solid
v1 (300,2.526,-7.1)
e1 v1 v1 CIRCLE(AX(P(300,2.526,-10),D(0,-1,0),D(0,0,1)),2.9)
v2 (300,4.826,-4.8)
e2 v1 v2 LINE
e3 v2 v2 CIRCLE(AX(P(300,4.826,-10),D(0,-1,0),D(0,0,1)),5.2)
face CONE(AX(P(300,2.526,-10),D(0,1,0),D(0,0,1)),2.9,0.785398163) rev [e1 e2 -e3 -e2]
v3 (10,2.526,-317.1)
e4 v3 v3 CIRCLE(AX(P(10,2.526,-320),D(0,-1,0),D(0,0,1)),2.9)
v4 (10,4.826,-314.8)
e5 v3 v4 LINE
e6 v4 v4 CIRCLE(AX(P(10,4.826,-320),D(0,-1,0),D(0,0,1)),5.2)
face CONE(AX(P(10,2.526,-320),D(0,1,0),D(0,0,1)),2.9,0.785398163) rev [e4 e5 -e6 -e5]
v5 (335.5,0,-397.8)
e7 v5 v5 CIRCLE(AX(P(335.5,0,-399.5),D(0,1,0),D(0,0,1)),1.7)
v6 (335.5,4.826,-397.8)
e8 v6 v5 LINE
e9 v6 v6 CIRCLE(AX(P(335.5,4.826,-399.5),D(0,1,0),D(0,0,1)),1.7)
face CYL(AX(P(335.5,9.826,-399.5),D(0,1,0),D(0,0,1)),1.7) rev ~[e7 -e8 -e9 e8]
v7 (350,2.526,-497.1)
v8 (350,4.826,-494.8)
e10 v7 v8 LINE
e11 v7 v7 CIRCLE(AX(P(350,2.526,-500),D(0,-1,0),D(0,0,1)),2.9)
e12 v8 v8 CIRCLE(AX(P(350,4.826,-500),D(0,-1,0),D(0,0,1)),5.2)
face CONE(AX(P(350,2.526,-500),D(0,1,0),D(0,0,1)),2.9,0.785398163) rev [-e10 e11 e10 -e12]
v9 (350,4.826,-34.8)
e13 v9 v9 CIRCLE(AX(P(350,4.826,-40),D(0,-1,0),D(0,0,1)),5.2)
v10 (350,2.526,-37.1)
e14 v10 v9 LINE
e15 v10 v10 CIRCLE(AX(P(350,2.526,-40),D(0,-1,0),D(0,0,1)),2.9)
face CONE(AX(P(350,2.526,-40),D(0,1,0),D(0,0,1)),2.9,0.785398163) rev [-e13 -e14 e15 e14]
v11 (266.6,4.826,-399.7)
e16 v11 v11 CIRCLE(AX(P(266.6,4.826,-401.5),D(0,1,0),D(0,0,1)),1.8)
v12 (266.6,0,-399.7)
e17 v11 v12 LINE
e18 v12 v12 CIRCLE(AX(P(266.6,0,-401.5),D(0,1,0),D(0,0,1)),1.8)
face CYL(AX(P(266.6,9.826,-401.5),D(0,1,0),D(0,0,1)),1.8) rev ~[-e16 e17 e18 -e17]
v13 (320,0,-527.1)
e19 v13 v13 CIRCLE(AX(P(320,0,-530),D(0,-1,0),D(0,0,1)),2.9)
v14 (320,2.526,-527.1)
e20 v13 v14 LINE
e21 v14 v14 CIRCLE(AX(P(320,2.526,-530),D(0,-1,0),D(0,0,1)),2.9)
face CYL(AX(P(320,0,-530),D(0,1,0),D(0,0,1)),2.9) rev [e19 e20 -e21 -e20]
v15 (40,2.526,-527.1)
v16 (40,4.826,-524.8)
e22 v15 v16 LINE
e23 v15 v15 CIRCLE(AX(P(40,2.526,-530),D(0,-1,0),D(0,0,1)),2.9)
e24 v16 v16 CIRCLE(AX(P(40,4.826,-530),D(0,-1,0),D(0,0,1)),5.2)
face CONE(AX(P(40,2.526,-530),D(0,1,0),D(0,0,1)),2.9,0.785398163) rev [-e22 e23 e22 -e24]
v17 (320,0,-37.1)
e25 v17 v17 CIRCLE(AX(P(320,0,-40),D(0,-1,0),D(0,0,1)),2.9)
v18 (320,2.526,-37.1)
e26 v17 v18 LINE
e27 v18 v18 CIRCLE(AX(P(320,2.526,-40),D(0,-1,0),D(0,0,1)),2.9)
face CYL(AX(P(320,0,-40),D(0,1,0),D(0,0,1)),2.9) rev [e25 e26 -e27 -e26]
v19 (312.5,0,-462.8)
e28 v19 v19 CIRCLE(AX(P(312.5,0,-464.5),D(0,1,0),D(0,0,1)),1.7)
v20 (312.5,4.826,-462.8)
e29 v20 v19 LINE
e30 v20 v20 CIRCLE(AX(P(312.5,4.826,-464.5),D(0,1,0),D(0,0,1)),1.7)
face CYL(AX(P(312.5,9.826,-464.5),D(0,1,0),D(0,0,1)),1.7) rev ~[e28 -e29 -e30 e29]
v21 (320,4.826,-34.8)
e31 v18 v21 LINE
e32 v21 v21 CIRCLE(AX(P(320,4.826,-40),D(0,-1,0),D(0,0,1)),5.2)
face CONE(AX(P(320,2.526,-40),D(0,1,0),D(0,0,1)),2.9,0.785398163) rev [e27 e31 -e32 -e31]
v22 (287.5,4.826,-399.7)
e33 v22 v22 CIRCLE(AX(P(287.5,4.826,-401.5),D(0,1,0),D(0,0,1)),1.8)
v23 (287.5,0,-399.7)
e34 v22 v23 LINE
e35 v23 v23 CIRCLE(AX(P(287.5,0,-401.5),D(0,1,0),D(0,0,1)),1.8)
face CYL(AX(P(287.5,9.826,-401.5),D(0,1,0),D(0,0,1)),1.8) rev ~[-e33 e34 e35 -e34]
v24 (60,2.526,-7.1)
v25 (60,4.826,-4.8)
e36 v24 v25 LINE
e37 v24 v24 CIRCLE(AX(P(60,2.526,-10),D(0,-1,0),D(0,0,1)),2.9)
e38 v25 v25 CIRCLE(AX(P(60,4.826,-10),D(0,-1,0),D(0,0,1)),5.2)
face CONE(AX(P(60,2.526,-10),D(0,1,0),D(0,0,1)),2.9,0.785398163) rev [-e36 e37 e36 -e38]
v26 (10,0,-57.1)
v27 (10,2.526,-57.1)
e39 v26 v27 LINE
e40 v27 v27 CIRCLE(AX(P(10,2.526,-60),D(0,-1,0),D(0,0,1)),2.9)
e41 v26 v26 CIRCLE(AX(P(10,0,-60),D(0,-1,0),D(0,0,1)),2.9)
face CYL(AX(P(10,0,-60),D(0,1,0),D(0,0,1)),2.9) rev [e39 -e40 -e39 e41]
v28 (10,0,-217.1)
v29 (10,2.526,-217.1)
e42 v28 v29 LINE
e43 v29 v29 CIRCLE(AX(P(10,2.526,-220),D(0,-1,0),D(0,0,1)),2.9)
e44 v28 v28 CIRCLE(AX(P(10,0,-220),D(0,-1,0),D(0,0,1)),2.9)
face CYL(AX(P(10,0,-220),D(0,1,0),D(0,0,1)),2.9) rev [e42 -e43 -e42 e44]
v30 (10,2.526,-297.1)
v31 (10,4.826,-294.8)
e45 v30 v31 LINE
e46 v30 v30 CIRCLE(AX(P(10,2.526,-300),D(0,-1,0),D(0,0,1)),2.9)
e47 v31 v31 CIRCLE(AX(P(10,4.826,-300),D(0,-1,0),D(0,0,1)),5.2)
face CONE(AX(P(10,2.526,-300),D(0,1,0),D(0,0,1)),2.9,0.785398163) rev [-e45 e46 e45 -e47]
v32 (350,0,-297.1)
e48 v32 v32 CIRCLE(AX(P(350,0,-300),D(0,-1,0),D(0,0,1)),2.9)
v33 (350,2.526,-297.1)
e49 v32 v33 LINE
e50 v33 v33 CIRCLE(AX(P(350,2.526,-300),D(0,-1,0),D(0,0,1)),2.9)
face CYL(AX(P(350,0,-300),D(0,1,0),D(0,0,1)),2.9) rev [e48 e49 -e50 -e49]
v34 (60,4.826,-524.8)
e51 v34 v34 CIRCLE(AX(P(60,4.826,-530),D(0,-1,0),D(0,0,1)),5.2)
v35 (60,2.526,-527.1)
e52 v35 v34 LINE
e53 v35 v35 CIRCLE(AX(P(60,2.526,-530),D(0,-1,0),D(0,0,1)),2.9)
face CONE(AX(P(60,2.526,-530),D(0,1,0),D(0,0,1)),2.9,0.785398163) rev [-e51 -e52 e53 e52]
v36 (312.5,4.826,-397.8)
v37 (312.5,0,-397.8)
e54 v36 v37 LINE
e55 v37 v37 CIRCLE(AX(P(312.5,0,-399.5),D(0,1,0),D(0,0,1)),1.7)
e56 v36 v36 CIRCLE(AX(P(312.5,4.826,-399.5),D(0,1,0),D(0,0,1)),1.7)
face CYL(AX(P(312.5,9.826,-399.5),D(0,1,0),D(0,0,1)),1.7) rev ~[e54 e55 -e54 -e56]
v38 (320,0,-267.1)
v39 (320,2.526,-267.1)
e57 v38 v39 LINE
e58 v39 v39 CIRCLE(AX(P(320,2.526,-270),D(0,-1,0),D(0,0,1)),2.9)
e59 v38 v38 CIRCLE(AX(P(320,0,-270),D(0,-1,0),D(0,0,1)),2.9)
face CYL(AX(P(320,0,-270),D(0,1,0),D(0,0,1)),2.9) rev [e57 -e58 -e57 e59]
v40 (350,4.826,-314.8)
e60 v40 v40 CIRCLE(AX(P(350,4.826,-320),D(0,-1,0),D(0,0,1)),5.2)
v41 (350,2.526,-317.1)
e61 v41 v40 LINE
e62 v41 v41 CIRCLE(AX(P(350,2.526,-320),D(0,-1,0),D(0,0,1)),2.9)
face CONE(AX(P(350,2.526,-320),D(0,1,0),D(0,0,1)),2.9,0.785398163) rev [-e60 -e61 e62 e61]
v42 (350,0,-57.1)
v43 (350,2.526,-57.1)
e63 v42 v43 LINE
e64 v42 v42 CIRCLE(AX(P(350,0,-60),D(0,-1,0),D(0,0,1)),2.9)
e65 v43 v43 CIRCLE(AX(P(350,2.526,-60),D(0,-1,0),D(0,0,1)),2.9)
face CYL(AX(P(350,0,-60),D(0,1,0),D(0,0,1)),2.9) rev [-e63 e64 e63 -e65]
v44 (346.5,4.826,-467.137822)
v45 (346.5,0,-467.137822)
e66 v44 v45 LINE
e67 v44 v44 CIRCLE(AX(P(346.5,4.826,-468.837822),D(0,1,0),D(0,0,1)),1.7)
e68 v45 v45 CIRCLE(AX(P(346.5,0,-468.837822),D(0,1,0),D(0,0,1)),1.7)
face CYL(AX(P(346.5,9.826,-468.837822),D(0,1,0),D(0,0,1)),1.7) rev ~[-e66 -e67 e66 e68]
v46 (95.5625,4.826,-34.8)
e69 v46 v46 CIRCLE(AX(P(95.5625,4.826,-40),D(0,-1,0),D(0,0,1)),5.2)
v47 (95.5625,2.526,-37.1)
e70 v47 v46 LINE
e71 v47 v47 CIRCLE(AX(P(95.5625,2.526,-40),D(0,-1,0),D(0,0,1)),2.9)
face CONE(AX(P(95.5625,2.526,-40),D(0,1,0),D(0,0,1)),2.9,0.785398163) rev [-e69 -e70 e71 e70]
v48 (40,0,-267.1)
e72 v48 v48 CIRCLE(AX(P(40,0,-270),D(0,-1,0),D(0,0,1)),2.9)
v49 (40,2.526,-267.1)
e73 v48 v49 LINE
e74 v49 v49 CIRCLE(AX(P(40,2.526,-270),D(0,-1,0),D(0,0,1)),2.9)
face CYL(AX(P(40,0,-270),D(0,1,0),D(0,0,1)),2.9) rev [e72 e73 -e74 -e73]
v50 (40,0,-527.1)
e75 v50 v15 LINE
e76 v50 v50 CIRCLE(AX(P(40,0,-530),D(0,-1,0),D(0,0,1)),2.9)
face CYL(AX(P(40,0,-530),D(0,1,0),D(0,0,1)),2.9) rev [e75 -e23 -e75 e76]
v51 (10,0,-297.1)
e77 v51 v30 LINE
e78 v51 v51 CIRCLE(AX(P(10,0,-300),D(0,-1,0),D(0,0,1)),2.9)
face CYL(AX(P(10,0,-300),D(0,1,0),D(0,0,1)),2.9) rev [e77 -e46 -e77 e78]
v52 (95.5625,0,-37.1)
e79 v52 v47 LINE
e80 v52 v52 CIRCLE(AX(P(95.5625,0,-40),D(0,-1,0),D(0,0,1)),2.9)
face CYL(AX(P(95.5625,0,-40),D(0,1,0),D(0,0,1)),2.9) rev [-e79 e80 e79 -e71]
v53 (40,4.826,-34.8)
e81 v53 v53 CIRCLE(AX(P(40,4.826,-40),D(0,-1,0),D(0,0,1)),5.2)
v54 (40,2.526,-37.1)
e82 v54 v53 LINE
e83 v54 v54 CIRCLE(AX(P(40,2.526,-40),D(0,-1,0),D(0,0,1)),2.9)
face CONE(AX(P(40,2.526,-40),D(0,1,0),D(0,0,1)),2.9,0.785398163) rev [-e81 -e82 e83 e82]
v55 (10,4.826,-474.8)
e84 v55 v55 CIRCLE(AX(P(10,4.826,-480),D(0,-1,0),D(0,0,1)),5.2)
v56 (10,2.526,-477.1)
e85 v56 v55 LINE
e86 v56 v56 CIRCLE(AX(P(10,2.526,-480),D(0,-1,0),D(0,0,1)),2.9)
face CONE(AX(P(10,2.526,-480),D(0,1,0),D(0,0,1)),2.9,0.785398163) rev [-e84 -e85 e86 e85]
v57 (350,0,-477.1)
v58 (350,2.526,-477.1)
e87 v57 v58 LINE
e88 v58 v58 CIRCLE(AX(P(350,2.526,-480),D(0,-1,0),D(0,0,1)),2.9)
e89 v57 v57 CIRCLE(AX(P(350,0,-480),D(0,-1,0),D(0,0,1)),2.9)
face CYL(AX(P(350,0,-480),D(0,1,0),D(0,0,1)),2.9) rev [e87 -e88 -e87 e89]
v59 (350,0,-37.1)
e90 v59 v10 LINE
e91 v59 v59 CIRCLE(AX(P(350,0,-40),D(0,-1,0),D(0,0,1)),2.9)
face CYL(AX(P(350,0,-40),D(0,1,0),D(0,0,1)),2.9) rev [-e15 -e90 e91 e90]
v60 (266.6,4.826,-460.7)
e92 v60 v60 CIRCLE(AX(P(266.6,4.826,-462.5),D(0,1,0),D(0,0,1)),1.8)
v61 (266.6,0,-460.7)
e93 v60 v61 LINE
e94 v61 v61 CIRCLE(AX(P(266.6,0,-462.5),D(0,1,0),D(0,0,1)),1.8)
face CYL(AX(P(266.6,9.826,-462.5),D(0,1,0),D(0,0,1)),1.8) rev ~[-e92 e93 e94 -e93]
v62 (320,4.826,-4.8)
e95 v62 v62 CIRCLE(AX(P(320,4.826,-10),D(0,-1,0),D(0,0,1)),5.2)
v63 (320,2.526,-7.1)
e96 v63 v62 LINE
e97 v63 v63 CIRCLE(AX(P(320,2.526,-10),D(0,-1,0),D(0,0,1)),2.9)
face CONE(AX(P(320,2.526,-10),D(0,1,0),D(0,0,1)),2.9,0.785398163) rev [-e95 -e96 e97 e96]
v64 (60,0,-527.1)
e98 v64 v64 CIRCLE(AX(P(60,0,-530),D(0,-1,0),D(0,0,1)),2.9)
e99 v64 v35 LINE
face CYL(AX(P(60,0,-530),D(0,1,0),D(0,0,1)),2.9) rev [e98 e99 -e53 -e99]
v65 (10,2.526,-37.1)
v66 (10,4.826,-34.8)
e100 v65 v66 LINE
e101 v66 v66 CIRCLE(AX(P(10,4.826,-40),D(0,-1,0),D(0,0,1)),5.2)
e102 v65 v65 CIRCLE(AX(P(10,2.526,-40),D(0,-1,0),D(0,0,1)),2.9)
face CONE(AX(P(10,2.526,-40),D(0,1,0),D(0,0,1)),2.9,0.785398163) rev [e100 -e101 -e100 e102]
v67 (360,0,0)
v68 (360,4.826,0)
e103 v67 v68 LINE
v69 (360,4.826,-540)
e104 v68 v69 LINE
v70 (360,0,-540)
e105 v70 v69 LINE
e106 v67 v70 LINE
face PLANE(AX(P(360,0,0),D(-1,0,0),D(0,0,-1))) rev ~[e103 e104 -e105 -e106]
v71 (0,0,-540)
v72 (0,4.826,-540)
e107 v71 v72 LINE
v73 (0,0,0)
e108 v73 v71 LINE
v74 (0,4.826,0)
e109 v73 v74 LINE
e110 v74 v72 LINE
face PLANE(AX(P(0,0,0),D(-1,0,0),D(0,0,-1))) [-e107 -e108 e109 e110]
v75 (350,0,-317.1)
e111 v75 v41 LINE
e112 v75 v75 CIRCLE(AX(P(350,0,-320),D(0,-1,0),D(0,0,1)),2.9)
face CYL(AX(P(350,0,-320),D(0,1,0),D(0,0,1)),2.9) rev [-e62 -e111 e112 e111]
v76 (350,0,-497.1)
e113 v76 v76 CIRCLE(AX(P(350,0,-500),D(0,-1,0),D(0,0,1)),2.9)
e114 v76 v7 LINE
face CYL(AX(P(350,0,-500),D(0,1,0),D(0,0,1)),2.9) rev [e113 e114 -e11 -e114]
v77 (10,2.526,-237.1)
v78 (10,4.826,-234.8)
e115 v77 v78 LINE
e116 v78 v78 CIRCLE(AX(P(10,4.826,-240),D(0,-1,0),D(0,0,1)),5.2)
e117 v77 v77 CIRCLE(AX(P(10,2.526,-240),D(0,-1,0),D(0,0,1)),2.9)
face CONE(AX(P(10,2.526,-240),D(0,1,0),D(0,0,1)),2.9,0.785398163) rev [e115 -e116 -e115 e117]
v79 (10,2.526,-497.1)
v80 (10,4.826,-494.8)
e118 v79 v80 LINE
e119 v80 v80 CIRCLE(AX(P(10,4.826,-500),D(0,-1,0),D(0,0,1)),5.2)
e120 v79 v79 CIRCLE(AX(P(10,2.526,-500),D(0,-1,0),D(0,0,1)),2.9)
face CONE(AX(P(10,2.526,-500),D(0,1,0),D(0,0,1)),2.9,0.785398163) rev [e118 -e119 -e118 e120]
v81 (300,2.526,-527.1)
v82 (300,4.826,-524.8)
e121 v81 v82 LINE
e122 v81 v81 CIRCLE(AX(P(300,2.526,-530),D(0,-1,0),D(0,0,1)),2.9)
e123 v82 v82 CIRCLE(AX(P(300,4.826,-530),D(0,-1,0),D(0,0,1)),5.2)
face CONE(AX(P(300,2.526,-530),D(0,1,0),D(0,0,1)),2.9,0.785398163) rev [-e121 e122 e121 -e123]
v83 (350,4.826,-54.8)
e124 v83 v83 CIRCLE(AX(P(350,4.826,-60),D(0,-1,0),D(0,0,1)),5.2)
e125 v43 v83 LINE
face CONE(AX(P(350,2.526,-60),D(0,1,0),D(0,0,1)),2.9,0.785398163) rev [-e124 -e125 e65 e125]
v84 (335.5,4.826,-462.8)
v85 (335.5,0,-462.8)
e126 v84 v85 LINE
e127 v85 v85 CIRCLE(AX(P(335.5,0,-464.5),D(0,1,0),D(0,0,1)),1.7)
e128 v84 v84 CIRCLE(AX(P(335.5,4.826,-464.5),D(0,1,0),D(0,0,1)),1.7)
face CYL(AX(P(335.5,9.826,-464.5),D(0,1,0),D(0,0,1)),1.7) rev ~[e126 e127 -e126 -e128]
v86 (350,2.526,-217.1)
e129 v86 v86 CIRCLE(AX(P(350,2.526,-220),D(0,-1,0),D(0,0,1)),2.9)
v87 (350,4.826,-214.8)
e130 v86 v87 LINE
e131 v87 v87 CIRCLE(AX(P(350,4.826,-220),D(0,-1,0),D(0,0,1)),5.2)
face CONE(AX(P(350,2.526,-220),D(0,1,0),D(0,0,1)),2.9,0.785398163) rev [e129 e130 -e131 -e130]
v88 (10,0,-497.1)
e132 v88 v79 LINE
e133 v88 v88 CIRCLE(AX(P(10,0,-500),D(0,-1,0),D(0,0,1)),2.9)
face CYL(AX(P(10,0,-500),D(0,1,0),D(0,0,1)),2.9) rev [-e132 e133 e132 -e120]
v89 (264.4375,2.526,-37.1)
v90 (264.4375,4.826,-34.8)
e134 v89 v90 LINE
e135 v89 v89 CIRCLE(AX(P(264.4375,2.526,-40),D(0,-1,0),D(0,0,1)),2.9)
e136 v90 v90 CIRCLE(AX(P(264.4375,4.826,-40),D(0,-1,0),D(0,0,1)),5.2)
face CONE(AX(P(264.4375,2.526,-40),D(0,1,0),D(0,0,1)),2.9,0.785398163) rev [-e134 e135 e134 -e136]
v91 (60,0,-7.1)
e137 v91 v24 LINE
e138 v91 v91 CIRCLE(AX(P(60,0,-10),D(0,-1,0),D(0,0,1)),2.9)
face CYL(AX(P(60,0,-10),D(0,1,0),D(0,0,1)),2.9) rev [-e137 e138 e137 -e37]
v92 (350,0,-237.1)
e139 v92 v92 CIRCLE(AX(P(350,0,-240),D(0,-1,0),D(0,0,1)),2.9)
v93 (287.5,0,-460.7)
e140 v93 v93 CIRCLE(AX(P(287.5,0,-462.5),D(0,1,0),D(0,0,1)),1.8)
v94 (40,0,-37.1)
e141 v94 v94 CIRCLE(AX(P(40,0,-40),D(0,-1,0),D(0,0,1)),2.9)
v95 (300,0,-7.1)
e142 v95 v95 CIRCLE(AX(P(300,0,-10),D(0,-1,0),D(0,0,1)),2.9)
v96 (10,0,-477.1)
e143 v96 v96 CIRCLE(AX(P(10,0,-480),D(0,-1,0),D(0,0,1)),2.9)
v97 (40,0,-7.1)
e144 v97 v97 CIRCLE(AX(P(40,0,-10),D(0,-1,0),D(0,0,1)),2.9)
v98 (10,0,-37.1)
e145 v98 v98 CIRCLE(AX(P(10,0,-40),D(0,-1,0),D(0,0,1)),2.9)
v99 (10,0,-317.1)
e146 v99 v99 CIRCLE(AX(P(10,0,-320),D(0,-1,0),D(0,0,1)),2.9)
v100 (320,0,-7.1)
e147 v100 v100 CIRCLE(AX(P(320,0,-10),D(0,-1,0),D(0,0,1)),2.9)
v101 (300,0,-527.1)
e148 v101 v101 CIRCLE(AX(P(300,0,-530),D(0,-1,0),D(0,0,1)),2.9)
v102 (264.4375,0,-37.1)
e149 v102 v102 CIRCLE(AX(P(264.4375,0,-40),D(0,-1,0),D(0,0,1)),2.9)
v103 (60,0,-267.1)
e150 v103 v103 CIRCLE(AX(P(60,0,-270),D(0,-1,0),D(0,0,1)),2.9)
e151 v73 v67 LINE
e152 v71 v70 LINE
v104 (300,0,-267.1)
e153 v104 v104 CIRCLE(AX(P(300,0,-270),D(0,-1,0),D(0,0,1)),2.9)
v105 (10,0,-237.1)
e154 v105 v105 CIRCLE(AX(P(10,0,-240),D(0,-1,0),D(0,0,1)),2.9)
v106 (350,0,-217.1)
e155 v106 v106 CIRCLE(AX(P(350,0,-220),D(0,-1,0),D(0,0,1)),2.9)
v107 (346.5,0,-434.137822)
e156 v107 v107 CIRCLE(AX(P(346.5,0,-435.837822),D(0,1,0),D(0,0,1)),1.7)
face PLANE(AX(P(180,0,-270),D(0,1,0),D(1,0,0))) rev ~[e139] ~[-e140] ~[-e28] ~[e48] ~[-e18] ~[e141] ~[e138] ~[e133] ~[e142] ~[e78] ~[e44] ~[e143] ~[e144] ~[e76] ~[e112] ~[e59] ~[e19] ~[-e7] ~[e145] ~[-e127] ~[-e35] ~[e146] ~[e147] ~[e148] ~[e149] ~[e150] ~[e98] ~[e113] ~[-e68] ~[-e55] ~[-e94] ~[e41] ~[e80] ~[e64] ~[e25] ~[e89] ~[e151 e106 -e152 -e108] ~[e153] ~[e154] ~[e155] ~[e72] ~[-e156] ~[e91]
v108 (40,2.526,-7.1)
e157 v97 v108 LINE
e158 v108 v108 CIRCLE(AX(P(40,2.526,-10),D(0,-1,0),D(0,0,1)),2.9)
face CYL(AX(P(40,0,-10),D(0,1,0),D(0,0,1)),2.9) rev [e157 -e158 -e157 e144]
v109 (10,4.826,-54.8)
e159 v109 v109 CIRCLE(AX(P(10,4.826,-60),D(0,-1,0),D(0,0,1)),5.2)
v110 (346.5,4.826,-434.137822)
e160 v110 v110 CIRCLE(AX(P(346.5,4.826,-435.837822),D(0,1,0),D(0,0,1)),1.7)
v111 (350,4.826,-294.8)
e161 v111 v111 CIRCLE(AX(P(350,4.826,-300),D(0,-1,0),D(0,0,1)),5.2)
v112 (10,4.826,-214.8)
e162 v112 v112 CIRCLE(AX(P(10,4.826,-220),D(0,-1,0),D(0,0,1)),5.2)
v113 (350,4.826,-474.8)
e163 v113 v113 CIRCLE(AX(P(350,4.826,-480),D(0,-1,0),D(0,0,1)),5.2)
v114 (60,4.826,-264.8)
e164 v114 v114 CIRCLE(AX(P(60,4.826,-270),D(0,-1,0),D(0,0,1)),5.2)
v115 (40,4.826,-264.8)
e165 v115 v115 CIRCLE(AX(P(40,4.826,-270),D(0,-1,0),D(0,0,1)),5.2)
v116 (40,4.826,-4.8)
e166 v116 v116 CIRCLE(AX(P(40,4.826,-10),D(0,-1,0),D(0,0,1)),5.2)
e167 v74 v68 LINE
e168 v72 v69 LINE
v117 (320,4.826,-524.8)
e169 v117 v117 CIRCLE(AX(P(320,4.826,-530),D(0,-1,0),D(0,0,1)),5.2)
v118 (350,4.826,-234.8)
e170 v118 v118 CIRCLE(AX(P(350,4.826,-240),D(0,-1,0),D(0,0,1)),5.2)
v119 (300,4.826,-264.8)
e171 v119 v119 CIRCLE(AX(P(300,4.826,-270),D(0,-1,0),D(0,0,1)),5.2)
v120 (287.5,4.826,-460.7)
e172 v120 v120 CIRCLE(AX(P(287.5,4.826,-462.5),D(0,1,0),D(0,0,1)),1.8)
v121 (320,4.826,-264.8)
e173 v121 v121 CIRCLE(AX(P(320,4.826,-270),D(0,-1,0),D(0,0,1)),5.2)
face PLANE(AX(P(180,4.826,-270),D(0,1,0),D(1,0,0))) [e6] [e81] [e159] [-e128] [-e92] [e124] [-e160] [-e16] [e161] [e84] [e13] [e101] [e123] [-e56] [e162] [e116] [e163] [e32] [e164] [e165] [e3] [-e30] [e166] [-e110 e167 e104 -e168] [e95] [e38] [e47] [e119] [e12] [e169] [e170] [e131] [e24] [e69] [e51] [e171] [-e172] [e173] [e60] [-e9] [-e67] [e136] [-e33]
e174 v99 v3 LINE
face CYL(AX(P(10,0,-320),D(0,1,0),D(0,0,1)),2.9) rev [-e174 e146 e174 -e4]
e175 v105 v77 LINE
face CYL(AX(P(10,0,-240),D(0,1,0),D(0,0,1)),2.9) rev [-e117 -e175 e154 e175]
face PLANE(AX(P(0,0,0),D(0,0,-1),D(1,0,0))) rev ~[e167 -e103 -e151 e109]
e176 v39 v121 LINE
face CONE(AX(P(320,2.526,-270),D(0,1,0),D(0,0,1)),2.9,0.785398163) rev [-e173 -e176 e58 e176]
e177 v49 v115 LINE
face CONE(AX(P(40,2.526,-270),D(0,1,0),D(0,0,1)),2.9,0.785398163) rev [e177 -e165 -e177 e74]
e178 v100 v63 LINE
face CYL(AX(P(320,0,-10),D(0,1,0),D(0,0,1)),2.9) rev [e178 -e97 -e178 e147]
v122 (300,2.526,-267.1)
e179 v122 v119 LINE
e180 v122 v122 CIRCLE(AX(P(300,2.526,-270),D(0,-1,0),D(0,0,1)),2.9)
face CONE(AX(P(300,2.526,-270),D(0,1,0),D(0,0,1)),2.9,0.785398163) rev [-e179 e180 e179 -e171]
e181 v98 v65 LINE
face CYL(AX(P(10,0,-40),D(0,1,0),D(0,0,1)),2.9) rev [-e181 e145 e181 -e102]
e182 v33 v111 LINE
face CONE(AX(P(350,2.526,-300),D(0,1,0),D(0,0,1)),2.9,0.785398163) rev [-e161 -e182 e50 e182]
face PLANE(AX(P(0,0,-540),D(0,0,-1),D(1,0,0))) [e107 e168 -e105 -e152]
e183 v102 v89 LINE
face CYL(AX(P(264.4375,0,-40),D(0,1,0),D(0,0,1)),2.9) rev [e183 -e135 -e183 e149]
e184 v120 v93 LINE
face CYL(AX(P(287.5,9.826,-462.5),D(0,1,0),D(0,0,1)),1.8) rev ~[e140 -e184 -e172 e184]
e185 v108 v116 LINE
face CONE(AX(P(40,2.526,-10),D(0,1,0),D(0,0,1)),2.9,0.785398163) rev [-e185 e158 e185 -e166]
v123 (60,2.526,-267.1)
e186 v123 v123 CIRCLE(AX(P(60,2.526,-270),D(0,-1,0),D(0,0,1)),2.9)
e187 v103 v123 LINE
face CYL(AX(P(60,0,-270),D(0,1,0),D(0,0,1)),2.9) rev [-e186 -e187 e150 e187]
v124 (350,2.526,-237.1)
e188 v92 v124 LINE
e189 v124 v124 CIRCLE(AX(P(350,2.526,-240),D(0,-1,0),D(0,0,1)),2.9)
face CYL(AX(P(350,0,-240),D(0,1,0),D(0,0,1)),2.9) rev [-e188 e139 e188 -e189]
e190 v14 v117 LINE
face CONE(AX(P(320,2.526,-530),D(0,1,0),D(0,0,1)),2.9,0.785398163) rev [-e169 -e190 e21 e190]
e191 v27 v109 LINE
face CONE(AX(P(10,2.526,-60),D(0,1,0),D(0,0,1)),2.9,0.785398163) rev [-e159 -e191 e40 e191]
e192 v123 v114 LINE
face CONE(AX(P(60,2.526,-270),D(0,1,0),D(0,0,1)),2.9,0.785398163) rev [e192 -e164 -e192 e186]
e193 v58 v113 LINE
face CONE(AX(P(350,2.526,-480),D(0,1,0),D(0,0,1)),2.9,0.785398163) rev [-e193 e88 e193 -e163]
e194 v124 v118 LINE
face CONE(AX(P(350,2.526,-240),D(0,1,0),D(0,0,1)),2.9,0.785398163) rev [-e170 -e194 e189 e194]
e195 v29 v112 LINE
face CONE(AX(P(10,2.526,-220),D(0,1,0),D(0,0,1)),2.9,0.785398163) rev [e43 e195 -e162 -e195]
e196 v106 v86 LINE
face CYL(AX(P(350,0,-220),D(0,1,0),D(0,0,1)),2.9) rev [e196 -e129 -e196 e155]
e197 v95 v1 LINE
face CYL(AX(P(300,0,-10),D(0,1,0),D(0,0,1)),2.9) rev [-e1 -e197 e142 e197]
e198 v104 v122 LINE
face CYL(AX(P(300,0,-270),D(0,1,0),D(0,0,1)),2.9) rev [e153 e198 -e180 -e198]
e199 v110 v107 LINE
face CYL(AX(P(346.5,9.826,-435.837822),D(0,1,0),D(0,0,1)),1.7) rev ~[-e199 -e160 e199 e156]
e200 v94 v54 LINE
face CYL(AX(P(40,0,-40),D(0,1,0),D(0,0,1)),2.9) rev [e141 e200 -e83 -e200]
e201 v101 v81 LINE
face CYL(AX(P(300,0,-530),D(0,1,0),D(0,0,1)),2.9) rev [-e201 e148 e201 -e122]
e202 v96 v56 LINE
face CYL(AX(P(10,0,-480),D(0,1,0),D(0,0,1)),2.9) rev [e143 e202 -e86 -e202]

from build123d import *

# Parameters (mm, degrees)
SKETCH1_W                                      = 360
SKETCH1_H                                      = 540
BOSS_EXTRUDE1_DEPTH                            = 4.826
CSK_FOR_M5_FLAT_HEAD_MACHINE_SCREW1_AT_2_COUNT = 2
CSK_FOR_M5_FLAT_HEAD_MACHINE_SCREW1_AT_2_PITCH = 55.5625
CSK_FOR_M5_FLAT_HEAD_MACHINE_SCREW1_AT_3_COUNT = 2
CSK_FOR_M5_FLAT_HEAD_MACHINE_SCREW1_AT_3_PITCH = 224.4375
CSK_FOR_M5_FLAT_HEAD_MACHINE_SCREW1_AT_4_COUNT = 2
CSK_FOR_M5_FLAT_HEAD_MACHINE_SCREW1_AT_4_PITCH = 280
CSK_FOR_M5_FLAT_HEAD_MACHINE_SCREW2_AT_2_COUNT = 2
CSK_FOR_M5_FLAT_HEAD_MACHINE_SCREW2_AT_2_PITCH = 42.426406871
CSK_FOR_M5_FLAT_HEAD_MACHINE_SCREW2_AT_3_COUNT = 2
CSK_FOR_M5_FLAT_HEAD_MACHINE_SCREW2_AT_3_PITCH = 280
CSK_FOR_M5_FLAT_HEAD_MACHINE_SCREW2_AT_4_COUNT = 2
CSK_FOR_M5_FLAT_HEAD_MACHINE_SCREW2_AT_4_PITCH = 311.448230048
CSK_FOR_M5_FLAT_HEAD_MACHINE_SCREW2_AT_5_COUNT = 2
CSK_FOR_M5_FLAT_HEAD_MACHINE_SCREW2_AT_5_PITCH = 231.948270095
CSK_FOR_M5_FLAT_HEAD_MACHINE_SCREW2_AT_6_COUNT = 2
CSK_FOR_M5_FLAT_HEAD_MACHINE_SCREW2_AT_6_PITCH = 260
CSK_FOR_M5_FLAT_HEAD_MACHINE_SCREW2_AT_7_COUNT = 2
CSK_FOR_M5_FLAT_HEAD_MACHINE_SCREW2_AT_7_PITCH = 291.547594742
CSK_FOR_M5_FLAT_HEAD_MACHINE_SCREW2_AT_8_COUNT = 2
CSK_FOR_M5_FLAT_HEAD_MACHINE_SCREW2_AT_8_PITCH = 386.005181312
CSK_FOR_M5_FLAT_HEAD_MACHINE_SCREW2_AT_9_COUNT = 2
CSK_FOR_M5_FLAT_HEAD_MACHINE_SCREW2_AT_9_PITCH = 382.099463491
CSK_FOR_M5_FLAT_HEAD_MACHINE_SCREW2_AT_1_COUNT = 2
CSK_FOR_M5_FLAT_HEAD_MACHINE_SCREW2_AT_1_PITCH = 424.499705536
CSK_FOR_M5_FLAT_HEAD_MACHINE_SCREW2_2_COUNT    = 2
CSK_FOR_M5_FLAT_HEAD_MACHINE_SCREW2_2_PITCH    = 490.917508345
CSK_FOR_M5_FLAT_HEAD_MACHINE_SCREW2_3_COUNT    = 2
CSK_FOR_M5_FLAT_HEAD_MACHINE_SCREW2_3_PITCH    = 520
CSK_FOR_M5_FLAT_HEAD_MACHINE_SCREW2_4_COUNT    = 2
CSK_FOR_M5_FLAT_HEAD_MACHINE_SCREW2_4_PITCH    = 590.592922409
CSK_FOR_M5_FLAT_HEAD_MACHINE_SCREW2_5_COUNT    = 2
CSK_FOR_M5_FLAT_HEAD_MACHINE_SCREW2_5_PITCH    = 579.827560573
CSK_FOR_M5_FLAT_HEAD_MACHINE_SCREW2_6_COUNT    = 2
CSK_FOR_M5_FLAT_HEAD_MACHINE_SCREW2_6_PITCH    = 470.956473573
CSK_FOR_M5_FLAT_HEAD_MACHINE_SCREW2_7_COUNT    = 2
CSK_FOR_M5_FLAT_HEAD_MACHINE_SCREW2_7_PITCH    = 520.38447325
CSK_FOR_M5_FLAT_HEAD_MACHINE_SCREW2_8_COUNT    = 2
CSK_FOR_M5_FLAT_HEAD_MACHINE_SCREW2_8_PITCH    = 581.37767415
CSK_FOR_M5_FLAT_HEAD_MACHINE_SCREW2_9_COUNT    = 2
CSK_FOR_M5_FLAT_HEAD_MACHINE_SCREW2_9_PITCH    = 563.02753041
CSK_FOR_M5_FLAT_HEAD_MACHINE_SCREW2_10_COUNT   = 2
CSK_FOR_M5_FLAT_HEAD_MACHINE_SCREW2_10_PITCH   = 438.406204336
CSK_FOR_M5_FLAT_HEAD_MACHINE_SCREW2_11_COUNT   = 2
CSK_FOR_M5_FLAT_HEAD_MACHINE_SCREW2_11_PITCH   = 367.695526217
CSK_FOR_M5_FLAT_HEAD_MACHINE_SCREW2_12_COUNT   = 2
CSK_FOR_M5_FLAT_HEAD_MACHINE_SCREW2_12_PITCH   = 374.432904537
CSK_FOR_M5_FLAT_HEAD_MACHINE_SCREW2_13_COUNT   = 2
CSK_FOR_M5_FLAT_HEAD_MACHINE_SCREW2_13_PITCH   = 212.132034356
CSK_FOR_M5_FLAT_HEAD_MACHINE_SCREW2_14_COUNT   = 2
CSK_FOR_M5_FLAT_HEAD_MACHINE_SCREW2_14_PITCH   = 260.768096208
CSK_FOR_M5_FLAT_HEAD_MACHINE_SCREW2_15_COUNT   = 2
CSK_FOR_M5_FLAT_HEAD_MACHINE_SCREW2_15_PITCH   = 311.448230048
CSK_FOR_M5_FLAT_HEAD_MACHINE_SCREW2_16_COUNT   = 2
CSK_FOR_M5_FLAT_HEAD_MACHINE_SCREW2_16_PITCH   = 58.309518948
CSK_FOR_M5_FLAT_HEAD_MACHINE_SCREW2_17_COUNT   = 2
CSK_FOR_M5_FLAT_HEAD_MACHINE_SCREW2_17_PITCH   = 20
CSK_FOR_M5_FLAT_HEAD_MACHINE_SCREW2_18_COUNT   = 2
CSK_FOR_M5_FLAT_HEAD_MACHINE_SCREW2_18_PITCH   = 260
CSK_FOR_M5_FLAT_HEAD_MACHINE_SCREW2_19_COUNT   = 2
CSK_FOR_M5_FLAT_HEAD_MACHINE_SCREW2_19_PITCH   = 314.006369362
SKETCH22_R                                     = 1.8
SKETCH22_R_2                                   = 1.7
CUT_EXTRUDE2_DEPTH                             = 9.826000001


with BuildPart() as part:
    # Sketch1 → Boss-Extrude1 (new body)
    with BuildSketch(Plane(origin=(0, 0, 0), x_dir=(1, 0, 0), z_dir=(0, 1, 0))):
        with Locations((180, 270)):
            Rectangle(SKETCH1_W, SKETCH1_H)
    extrude(amount=BOSS_EXTRUDE1_DEPTH)

    # Sketch16 → CSK for M5 Flat Head Machine Screw1 (revolve, cut)
    with BuildSketch(Plane(origin=(40, 4.826, -40), x_dir=(0, 0, 1), z_dir=(1, 0, 0))):
        Polygon((0, 0), (0, 4.826), (2.9, 4.826), (2.9, 2.3), (5.2, 0), align=None)
    csk_for_m5_flat_head_machine_screw1 = revolve(axis=Axis((40, 11.176, -40), (0, -1, 0)), mode=Mode.SUBTRACT)

    # CSK for M5 Flat Head Machine Screw1 at 2: CSK for M5 Flat Head Machine Screw1 ×2
    with Locations(*[(i * CSK_FOR_M5_FLAT_HEAD_MACHINE_SCREW1_AT_2_PITCH, 0, 0) for i in range(1, CSK_FOR_M5_FLAT_HEAD_MACHINE_SCREW1_AT_2_COUNT)]):
        add(csk_for_m5_flat_head_machine_screw1, mode=Mode.SUBTRACT)

    # CSK for M5 Flat Head Machine Screw1 at 3: CSK for M5 Flat Head Machine Screw1 ×2
    with Locations(*[(i * CSK_FOR_M5_FLAT_HEAD_MACHINE_SCREW1_AT_3_PITCH, 0, 0) for i in range(1, CSK_FOR_M5_FLAT_HEAD_MACHINE_SCREW1_AT_3_COUNT)]):
        add(csk_for_m5_flat_head_machine_screw1, mode=Mode.SUBTRACT)

    # CSK for M5 Flat Head Machine Screw1 at 4: CSK for M5 Flat Head Machine Screw1 ×2
    with Locations(*[(i * CSK_FOR_M5_FLAT_HEAD_MACHINE_SCREW1_AT_4_PITCH, 0, 0) for i in range(1, CSK_FOR_M5_FLAT_HEAD_MACHINE_SCREW1_AT_4_COUNT)]):
        add(csk_for_m5_flat_head_machine_screw1, mode=Mode.SUBTRACT)

    # Sketch20 → CSK for M5 Flat Head Machine Screw2 (revolve, cut)
    with BuildSketch(Plane(origin=(40, 4.826, -10), x_dir=(0, 0, 1), z_dir=(1, 0, 0))):
        Polygon((0, 0), (0, 4.826), (2.9, 4.826), (2.9, 2.3), (5.2, 0), align=None)
    csk_for_m5_flat_head_machine_screw2 = revolve(axis=Axis((40, 11.176, -10), (0, -1, 0)), mode=Mode.SUBTRACT)

    # CSK for M5 Flat Head Machine Screw2 at 2: CSK for M5 Flat Head Machine Screw2 ×2
    with Locations(*[Vector(-0.7071067811865477, 0, -0.7071067811865475) * (i * CSK_FOR_M5_FLAT_HEAD_MACHINE_SCREW2_AT_2_PITCH) for i in range(1, CSK_FOR_M5_FLAT_HEAD_MACHINE_SCREW2_AT_2_COUNT)]):
        add(csk_for_m5_flat_head_machine_screw2, mode=Mode.SUBTRACT)

    # CSK for M5 Flat Head Machine Screw2 at 3: CSK for M5 Flat Head Machine Screw2 ×2
    with Locations(*[(i * CSK_FOR_M5_FLAT_HEAD_MACHINE_SCREW2_AT_3_PITCH, 0, 0) for i in range(1, CSK_FOR_M5_FLAT_HEAD_MACHINE_SCREW2_AT_3_COUNT)]):
        add(csk_for_m5_flat_head_machine_screw2, mode=Mode.SUBTRACT)

    # CSK for M5 Flat Head Machine Screw2 at 4: CSK for M5 Flat Head Machine Screw2 ×2
    with Locations(*[Vector(0.9953500135553002, 0, -0.09632419486019045) * (i * CSK_FOR_M5_FLAT_HEAD_MACHINE_SCREW2_AT_4_PITCH) for i in range(1, CSK_FOR_M5_FLAT_HEAD_MACHINE_SCREW2_AT_4_COUNT)]):
        add(csk_for_m5_flat_head_machine_screw2, mode=Mode.SUBTRACT)

    # CSK for M5 Flat Head Machine Screw2 at 5: CSK for M5 Flat Head Machine Screw2 ×2
    with Locations(*[Vector(-0.12933918406776806, 0, -0.9916004111862218) * (i * CSK_FOR_M5_FLAT_HEAD_MACHINE_SCREW2_AT_5_PITCH) for i in range(1, CSK_FOR_M5_FLAT_HEAD_MACHINE_SCREW2_AT_5_COUNT)]):
        add(csk_for_m5_flat_head_machine_screw2, mode=Mode.SUBTRACT)

    # CSK for M5 Flat Head Machine Screw2 at 6: CSK for M5 Flat Head Machine Screw2 ×2
    with Locations(*[(0, 0, -i * CSK_FOR_M5_FLAT_HEAD_MACHINE_SCREW2_AT_6_PITCH) for i in range(1, CSK_FOR_M5_FLAT_HEAD_MACHINE_SCREW2_AT_6_COUNT)]):
        add(csk_for_m5_flat_head_machine_screw2, mode=Mode.SUBTRACT)

    # CSK for M5 Flat Head Machine Screw2 at 7: CSK for M5 Flat Head Machine Screw2 ×2
    with Locations(*[Vector(-0.10289915108550529, 0, -0.9946917938265514) * (i * CSK_FOR_M5_FLAT_HEAD_MACHINE_SCREW2_AT_7_PITCH) for i in range(1, CSK_FOR_M5_FLAT_HEAD_MACHINE_SCREW2_AT_7_COUNT)]):
        add(csk_for_m5_flat_head_machine_screw2, mode=Mode.SUBTRACT)

    # CSK for M5 Flat Head Machine Screw2 at 8: CSK for M5 Flat Head Machine Screw2 ×2
    with Locations(*[Vector(0.8030980282338017, 0, -0.5958469241734659) * (i * CSK_FOR_M5_FLAT_HEAD_MACHINE_SCREW2_AT_8_PITCH) for i in range(1, CSK_FOR_M5_FLAT_HEAD_MACHINE_SCREW2_AT_8_COUNT)]):
        add(csk_for_m5_flat_head_machine_screw2, mode=Mode.SUBTRACT)

    # CSK for M5 Flat Head Machine Screw2 at 9: CSK for M5 Flat Head Machine Screw2 ×2
    with Locations(*[Vector(0.7327934916262991, 0, -0.680451099367278) * (i * CSK_FOR_M5_FLAT_HEAD_MACHINE_SCREW2_AT_9_PITCH) for i in range(1, CSK_FOR_M5_FLAT_HEAD_MACHINE_SCREW2_AT_9_COUNT)]):
        add(csk_for_m5_flat_head_machine_screw2, mode=Mode.SUBTRACT)

    # CSK for M5 Flat Head Machine Screw2 at 1: CSK for M5 Flat Head Machine Screw2 ×2
    with Locations(*[Vector(0.7302714135188955, 0, -0.683157128775741) * (i * CSK_FOR_M5_FLAT_HEAD_MACHINE_SCREW2_AT_1_PITCH) for i in range(1, CSK_FOR_M5_FLAT_HEAD_MACHINE_SCREW2_AT_1_COUNT)]):
        add(csk_for_m5_flat_head_machine_screw2, mode=Mode.SUBTRACT)

    # CSK for M5 Flat Head Machine Screw2  2: CSK for M5 Flat Head Machine Screw2 ×2
    with Locations(*[Vector(-0.0611100632795033, 0, -0.9981310335652204) * (i * CSK_FOR_M5_FLAT_HEAD_MACHINE_SCREW2_2_PITCH) for i in range(1, CSK_FOR_M5_FLAT_HEAD_MACHINE_SCREW2_2_COUNT)]):
        add(csk_for_m5_flat_head_machine_screw2, mode=Mode.SUBTRACT)

    # CSK for M5 Flat Head Machine Screw2  3: CSK for M5 Flat Head Machine Screw2 ×2
    with Locations(*[(0, 0, -i * CSK_FOR_M5_FLAT_HEAD_MACHINE_SCREW2_3_PITCH) for i in range(1, CSK_FOR_M5_FLAT_HEAD_MACHINE_SCREW2_3_COUNT)]):
        add(csk_for_m5_flat_head_machine_screw2, mode=Mode.SUBTRACT)

    # CSK for M5 Flat Head Machine Screw2  4: CSK for M5 Flat Head Machine Screw2 ×2
    with Locations(*[Vector(0.4740998230350174, 0, -0.8804710999221753) * (i * CSK_FOR_M5_FLAT_HEAD_MACHINE_SCREW2_4_PITCH) for i in range(1, CSK_FOR_M5_FLAT_HEAD_MACHINE_SCREW2_4_COUNT)]):
        add(csk_for_m5_flat_head_machine_screw2, mode=Mode.SUBTRACT)

    # CSK for M5 Flat Head Machine Screw2  5: CSK for M5 Flat Head Machine Screw2 ×2
    with Locations(*[Vector(0.5346417126044627, 0, -0.8450788360522153) * (i * CSK_FOR_M5_FLAT_HEAD_MACHINE_SCREW2_5_PITCH) for i in range(1, CSK_FOR_M5_FLAT_HEAD_MACHINE_SCREW2_5_COUNT)]):
        add(csk_for_m5_flat_head_machine_screw2, mode=Mode.SUBTRACT)

    # CSK for M5 Flat Head Machine Screw2  6: CSK for M5 Flat Head Machine Screw2 ×2
    with Locations(*[Vector(-0.06370015422533803, 0, -0.9979690828636267) * (i * CSK_FOR_M5_FLAT_HEAD_MACHINE_SCREW2_6_PITCH) for i in range(1, CSK_FOR_M5_FLAT_HEAD_MACHINE_SCREW2_6_COUNT)]):
        add(csk_for_m5_flat_head_machine_screw2, mode=Mode.SUBTRACT)

    # CSK for M5 Flat Head Machine Screw2  7: CSK for M5 Flat Head Machine Screw2 ×2
    with Locations(*[Vector(0.03843312210120418, 0, -0.9992611746313144) * (i * CSK_FOR_M5_FLAT_HEAD_MACHINE_SCREW2_7_PITCH) for i in range(1, CSK_FOR_M5_FLAT_HEAD_MACHINE_SCREW2_7_COUNT)]):
        add(csk_for_m5_flat_head_machine_screw2, mode=Mode.SUBTRACT)

    # CSK for M5 Flat Head Machine Screw2  8: CSK for M5 Flat Head Machine Screw2 ×2
    with Locations(*[Vector(0.4472135954999574, 0, -0.8944271909999162) * (i * CSK_FOR_M5_FLAT_HEAD_MACHINE_SCREW2_8_PITCH) for i in range(1, CSK_FOR_M5_FLAT_HEAD_MACHINE_SCREW2_8_COUNT)]):
        add(csk_for_m5_flat_head_machine_screw2, mode=Mode.SUBTRACT)

    # CSK for M5 Flat Head Machine Screw2  9: CSK for M5 Flat Head Machine Screw2 ×2
    with Locations(*[Vector(0.5505947458271752, 0, -0.8347726791573312) * (i * CSK_FOR_M5_FLAT_HEAD_MACHINE_SCREW2_9_PITCH) for i in range(1, CSK_FOR_M5_FLAT_HEAD_MACHINE_SCREW2_9_COUNT)]):
        add(csk_for_m5_flat_head_machine_screw2, mode=Mode.SUBTRACT)

    # CSK for M5 Flat Head Machine Screw2  10: CSK for M5 Flat Head Machine Screw2 ×2
    with Locations(*[Vector(0.7071067811865475, 0, -0.7071067811865476) * (i * CSK_FOR_M5_FLAT_HEAD_MACHINE_SCREW2_10_PITCH) for i in range(1, CSK_FOR_M5_FLAT_HEAD_MACHINE_SCREW2_10_COUNT)]):
        add(csk_for_m5_flat_head_machine_screw2, mode=Mode.SUBTRACT)

    # CSK for M5 Flat Head Machine Screw2  11: CSK for M5 Flat Head Machine Screw2 ×2
    with Locations(*[Vector(0.7071067811865476, 0, -0.7071067811865476) * (i * CSK_FOR_M5_FLAT_HEAD_MACHINE_SCREW2_11_PITCH) for i in range(1, CSK_FOR_M5_FLAT_HEAD_MACHINE_SCREW2_11_COUNT)]):
        add(csk_for_m5_flat_head_machine_screw2, mode=Mode.SUBTRACT)

    # CSK for M5 Flat Head Machine Screw2  12: CSK for M5 Flat Head Machine Screw2 ×2
    with Locations(*[Vector(0.827918690488332, 0, -0.5608481451695152) * (i * CSK_FOR_M5_FLAT_HEAD_MACHINE_SCREW2_12_PITCH) for i in range(1, CSK_FOR_M5_FLAT_HEAD_MACHINE_SCREW2_12_COUNT)]):
        add(csk_for_m5_flat_head_machine_screw2, mode=Mode.SUBTRACT)

    # CSK for M5 Flat Head Machine Screw2  13: CSK for M5 Flat Head Machine Screw2 ×2
    with Locations(*[Vector(-0.14142135623730953, 0, -0.9899494936611666) * (i * CSK_FOR_M5_FLAT_HEAD_MACHINE_SCREW2_13_PITCH) for i in range(1, CSK_FOR_M5_FLAT_HEAD_MACHINE_SCREW2_13_COUNT)]):
        add(csk_for_m5_flat_head_machine_screw2, mode=Mode.SUBTRACT)

    # CSK for M5 Flat Head Machine Screw2  14: CSK for M5 Flat Head Machine Screw2 ×2
    with Locations(*[Vector(0.07669649888473705, 0, -0.9970544855015816) * (i * CSK_FOR_M5_FLAT_HEAD_MACHINE_SCREW2_14_PITCH) for i in range(1, CSK_FOR_M5_FLAT_HEAD_MACHINE_SCREW2_14_COUNT)]):
        add(csk_for_m5_flat_head_machine_screw2, mode=Mode.SUBTRACT)

    # CSK for M5 Flat Head Machine Screw2  15: CSK for M5 Flat Head Machine Screw2 ×2
    with Locations(*[Vector(-0.09632419486019039, 0, -0.9953500135553002) * (i * CSK_FOR_M5_FLAT_HEAD_MACHINE_SCREW2_15_PITCH) for i in range(1, CSK_FOR_M5_FLAT_HEAD_MACHINE_SCREW2_15_COUNT)]):
        add(csk_for_m5_flat_head_machine_screw2, mode=Mode.SUBTRACT)

    # CSK for M5 Flat Head Machine Screw2  16: CSK for M5 Flat Head Machine Screw2 ×2
    with Locations(*[Vector(-0.5144957554275267, 0, -0.8574929257125442) * (i * CSK_FOR_M5_FLAT_HEAD_MACHINE_SCREW2_16_PITCH) for i in range(1, CSK_FOR_M5_FLAT_HEAD_MACHINE_SCREW2_16_COUNT)]):
        add(csk_for_m5_flat_head_machine_screw2, mode=Mode.SUBTRACT)

    # CSK for M5 Flat Head Machine Screw2  17: CSK for M5 Flat Head Machine Screw2 ×2
    with Locations(*[(i * CSK_FOR_M5_FLAT_HEAD_MACHINE_SCREW2_17_PITCH, 0, 0) for i in range(1, CSK_FOR_M5_FLAT_HEAD_MACHINE_SCREW2_17_COUNT)]):
        add(csk_for_m5_flat_head_machine_screw2, mode=Mode.SUBTRACT)

    # CSK for M5 Flat Head Machine Screw2  18: CSK for M5 Flat Head Machine Screw2 ×2
    with Locations(*[(i * CSK_FOR_M5_FLAT_HEAD_MACHINE_SCREW2_18_PITCH, 0, 0) for i in range(1, CSK_FOR_M5_FLAT_HEAD_MACHINE_SCREW2_18_COUNT)]):
        add(csk_for_m5_flat_head_machine_screw2, mode=Mode.SUBTRACT)

    # CSK for M5 Flat Head Machine Screw2  19: CSK for M5 Flat Head Machine Screw2 ×2
    with Locations(*[Vector(0.9872411207126471, 0, -0.1592324388246205) * (i * CSK_FOR_M5_FLAT_HEAD_MACHINE_SCREW2_19_PITCH) for i in range(1, CSK_FOR_M5_FLAT_HEAD_MACHINE_SCREW2_19_COUNT)]):
        add(csk_for_m5_flat_head_machine_screw2, mode=Mode.SUBTRACT)

    # Sketch22 → Cut-Extrude2 (cut)
    with BuildSketch(Plane(origin=(0, 9.826000001, 0), x_dir=(1, 0, 0), z_dir=(0, 1, 0))):
        with Locations(Location((266.6, 462.5, 0), (0, 0, 270))):
            Circle(SKETCH22_R)
        with Locations(Location((287.5, 462.5, 0), (0, 0, 270))):
            Circle(SKETCH22_R)
        with Locations(Location((287.5, 401.5, 0), (0, 0, 270))):
            Circle(SKETCH22_R)
        with Locations(Location((312.5, 399.499999999, 0), (0, 0, 270))):
            Circle(SKETCH22_R_2)
        with Locations(Location((266.6, 401.5, 0), (0, 0, 270))):
            Circle(SKETCH22_R)
        with Locations(Location((312.5, 464.499999999, 0), (0, 0, 270))):
            Circle(SKETCH22_R_2)
        with Locations(Location((335.5, 464.499999999, 0), (0, 0, 270))):
            Circle(SKETCH22_R_2)
        with Locations(Location((335.5, 399.499999999, 0), (0, 0, 270))):
            Circle(SKETCH22_R_2)
        with Locations(Location((346.5, 435.837822173, 0), (0, 0, 270))):
            Circle(SKETCH22_R_2)
        with Locations(Location((346.5, 468.837822173, 0), (0, 0, 270))):
            Circle(SKETCH22_R_2)
    extrude(amount=-CUT_EXTRUDE2_DEPTH, mode=Mode.SUBTRACT)


solid = part.part
